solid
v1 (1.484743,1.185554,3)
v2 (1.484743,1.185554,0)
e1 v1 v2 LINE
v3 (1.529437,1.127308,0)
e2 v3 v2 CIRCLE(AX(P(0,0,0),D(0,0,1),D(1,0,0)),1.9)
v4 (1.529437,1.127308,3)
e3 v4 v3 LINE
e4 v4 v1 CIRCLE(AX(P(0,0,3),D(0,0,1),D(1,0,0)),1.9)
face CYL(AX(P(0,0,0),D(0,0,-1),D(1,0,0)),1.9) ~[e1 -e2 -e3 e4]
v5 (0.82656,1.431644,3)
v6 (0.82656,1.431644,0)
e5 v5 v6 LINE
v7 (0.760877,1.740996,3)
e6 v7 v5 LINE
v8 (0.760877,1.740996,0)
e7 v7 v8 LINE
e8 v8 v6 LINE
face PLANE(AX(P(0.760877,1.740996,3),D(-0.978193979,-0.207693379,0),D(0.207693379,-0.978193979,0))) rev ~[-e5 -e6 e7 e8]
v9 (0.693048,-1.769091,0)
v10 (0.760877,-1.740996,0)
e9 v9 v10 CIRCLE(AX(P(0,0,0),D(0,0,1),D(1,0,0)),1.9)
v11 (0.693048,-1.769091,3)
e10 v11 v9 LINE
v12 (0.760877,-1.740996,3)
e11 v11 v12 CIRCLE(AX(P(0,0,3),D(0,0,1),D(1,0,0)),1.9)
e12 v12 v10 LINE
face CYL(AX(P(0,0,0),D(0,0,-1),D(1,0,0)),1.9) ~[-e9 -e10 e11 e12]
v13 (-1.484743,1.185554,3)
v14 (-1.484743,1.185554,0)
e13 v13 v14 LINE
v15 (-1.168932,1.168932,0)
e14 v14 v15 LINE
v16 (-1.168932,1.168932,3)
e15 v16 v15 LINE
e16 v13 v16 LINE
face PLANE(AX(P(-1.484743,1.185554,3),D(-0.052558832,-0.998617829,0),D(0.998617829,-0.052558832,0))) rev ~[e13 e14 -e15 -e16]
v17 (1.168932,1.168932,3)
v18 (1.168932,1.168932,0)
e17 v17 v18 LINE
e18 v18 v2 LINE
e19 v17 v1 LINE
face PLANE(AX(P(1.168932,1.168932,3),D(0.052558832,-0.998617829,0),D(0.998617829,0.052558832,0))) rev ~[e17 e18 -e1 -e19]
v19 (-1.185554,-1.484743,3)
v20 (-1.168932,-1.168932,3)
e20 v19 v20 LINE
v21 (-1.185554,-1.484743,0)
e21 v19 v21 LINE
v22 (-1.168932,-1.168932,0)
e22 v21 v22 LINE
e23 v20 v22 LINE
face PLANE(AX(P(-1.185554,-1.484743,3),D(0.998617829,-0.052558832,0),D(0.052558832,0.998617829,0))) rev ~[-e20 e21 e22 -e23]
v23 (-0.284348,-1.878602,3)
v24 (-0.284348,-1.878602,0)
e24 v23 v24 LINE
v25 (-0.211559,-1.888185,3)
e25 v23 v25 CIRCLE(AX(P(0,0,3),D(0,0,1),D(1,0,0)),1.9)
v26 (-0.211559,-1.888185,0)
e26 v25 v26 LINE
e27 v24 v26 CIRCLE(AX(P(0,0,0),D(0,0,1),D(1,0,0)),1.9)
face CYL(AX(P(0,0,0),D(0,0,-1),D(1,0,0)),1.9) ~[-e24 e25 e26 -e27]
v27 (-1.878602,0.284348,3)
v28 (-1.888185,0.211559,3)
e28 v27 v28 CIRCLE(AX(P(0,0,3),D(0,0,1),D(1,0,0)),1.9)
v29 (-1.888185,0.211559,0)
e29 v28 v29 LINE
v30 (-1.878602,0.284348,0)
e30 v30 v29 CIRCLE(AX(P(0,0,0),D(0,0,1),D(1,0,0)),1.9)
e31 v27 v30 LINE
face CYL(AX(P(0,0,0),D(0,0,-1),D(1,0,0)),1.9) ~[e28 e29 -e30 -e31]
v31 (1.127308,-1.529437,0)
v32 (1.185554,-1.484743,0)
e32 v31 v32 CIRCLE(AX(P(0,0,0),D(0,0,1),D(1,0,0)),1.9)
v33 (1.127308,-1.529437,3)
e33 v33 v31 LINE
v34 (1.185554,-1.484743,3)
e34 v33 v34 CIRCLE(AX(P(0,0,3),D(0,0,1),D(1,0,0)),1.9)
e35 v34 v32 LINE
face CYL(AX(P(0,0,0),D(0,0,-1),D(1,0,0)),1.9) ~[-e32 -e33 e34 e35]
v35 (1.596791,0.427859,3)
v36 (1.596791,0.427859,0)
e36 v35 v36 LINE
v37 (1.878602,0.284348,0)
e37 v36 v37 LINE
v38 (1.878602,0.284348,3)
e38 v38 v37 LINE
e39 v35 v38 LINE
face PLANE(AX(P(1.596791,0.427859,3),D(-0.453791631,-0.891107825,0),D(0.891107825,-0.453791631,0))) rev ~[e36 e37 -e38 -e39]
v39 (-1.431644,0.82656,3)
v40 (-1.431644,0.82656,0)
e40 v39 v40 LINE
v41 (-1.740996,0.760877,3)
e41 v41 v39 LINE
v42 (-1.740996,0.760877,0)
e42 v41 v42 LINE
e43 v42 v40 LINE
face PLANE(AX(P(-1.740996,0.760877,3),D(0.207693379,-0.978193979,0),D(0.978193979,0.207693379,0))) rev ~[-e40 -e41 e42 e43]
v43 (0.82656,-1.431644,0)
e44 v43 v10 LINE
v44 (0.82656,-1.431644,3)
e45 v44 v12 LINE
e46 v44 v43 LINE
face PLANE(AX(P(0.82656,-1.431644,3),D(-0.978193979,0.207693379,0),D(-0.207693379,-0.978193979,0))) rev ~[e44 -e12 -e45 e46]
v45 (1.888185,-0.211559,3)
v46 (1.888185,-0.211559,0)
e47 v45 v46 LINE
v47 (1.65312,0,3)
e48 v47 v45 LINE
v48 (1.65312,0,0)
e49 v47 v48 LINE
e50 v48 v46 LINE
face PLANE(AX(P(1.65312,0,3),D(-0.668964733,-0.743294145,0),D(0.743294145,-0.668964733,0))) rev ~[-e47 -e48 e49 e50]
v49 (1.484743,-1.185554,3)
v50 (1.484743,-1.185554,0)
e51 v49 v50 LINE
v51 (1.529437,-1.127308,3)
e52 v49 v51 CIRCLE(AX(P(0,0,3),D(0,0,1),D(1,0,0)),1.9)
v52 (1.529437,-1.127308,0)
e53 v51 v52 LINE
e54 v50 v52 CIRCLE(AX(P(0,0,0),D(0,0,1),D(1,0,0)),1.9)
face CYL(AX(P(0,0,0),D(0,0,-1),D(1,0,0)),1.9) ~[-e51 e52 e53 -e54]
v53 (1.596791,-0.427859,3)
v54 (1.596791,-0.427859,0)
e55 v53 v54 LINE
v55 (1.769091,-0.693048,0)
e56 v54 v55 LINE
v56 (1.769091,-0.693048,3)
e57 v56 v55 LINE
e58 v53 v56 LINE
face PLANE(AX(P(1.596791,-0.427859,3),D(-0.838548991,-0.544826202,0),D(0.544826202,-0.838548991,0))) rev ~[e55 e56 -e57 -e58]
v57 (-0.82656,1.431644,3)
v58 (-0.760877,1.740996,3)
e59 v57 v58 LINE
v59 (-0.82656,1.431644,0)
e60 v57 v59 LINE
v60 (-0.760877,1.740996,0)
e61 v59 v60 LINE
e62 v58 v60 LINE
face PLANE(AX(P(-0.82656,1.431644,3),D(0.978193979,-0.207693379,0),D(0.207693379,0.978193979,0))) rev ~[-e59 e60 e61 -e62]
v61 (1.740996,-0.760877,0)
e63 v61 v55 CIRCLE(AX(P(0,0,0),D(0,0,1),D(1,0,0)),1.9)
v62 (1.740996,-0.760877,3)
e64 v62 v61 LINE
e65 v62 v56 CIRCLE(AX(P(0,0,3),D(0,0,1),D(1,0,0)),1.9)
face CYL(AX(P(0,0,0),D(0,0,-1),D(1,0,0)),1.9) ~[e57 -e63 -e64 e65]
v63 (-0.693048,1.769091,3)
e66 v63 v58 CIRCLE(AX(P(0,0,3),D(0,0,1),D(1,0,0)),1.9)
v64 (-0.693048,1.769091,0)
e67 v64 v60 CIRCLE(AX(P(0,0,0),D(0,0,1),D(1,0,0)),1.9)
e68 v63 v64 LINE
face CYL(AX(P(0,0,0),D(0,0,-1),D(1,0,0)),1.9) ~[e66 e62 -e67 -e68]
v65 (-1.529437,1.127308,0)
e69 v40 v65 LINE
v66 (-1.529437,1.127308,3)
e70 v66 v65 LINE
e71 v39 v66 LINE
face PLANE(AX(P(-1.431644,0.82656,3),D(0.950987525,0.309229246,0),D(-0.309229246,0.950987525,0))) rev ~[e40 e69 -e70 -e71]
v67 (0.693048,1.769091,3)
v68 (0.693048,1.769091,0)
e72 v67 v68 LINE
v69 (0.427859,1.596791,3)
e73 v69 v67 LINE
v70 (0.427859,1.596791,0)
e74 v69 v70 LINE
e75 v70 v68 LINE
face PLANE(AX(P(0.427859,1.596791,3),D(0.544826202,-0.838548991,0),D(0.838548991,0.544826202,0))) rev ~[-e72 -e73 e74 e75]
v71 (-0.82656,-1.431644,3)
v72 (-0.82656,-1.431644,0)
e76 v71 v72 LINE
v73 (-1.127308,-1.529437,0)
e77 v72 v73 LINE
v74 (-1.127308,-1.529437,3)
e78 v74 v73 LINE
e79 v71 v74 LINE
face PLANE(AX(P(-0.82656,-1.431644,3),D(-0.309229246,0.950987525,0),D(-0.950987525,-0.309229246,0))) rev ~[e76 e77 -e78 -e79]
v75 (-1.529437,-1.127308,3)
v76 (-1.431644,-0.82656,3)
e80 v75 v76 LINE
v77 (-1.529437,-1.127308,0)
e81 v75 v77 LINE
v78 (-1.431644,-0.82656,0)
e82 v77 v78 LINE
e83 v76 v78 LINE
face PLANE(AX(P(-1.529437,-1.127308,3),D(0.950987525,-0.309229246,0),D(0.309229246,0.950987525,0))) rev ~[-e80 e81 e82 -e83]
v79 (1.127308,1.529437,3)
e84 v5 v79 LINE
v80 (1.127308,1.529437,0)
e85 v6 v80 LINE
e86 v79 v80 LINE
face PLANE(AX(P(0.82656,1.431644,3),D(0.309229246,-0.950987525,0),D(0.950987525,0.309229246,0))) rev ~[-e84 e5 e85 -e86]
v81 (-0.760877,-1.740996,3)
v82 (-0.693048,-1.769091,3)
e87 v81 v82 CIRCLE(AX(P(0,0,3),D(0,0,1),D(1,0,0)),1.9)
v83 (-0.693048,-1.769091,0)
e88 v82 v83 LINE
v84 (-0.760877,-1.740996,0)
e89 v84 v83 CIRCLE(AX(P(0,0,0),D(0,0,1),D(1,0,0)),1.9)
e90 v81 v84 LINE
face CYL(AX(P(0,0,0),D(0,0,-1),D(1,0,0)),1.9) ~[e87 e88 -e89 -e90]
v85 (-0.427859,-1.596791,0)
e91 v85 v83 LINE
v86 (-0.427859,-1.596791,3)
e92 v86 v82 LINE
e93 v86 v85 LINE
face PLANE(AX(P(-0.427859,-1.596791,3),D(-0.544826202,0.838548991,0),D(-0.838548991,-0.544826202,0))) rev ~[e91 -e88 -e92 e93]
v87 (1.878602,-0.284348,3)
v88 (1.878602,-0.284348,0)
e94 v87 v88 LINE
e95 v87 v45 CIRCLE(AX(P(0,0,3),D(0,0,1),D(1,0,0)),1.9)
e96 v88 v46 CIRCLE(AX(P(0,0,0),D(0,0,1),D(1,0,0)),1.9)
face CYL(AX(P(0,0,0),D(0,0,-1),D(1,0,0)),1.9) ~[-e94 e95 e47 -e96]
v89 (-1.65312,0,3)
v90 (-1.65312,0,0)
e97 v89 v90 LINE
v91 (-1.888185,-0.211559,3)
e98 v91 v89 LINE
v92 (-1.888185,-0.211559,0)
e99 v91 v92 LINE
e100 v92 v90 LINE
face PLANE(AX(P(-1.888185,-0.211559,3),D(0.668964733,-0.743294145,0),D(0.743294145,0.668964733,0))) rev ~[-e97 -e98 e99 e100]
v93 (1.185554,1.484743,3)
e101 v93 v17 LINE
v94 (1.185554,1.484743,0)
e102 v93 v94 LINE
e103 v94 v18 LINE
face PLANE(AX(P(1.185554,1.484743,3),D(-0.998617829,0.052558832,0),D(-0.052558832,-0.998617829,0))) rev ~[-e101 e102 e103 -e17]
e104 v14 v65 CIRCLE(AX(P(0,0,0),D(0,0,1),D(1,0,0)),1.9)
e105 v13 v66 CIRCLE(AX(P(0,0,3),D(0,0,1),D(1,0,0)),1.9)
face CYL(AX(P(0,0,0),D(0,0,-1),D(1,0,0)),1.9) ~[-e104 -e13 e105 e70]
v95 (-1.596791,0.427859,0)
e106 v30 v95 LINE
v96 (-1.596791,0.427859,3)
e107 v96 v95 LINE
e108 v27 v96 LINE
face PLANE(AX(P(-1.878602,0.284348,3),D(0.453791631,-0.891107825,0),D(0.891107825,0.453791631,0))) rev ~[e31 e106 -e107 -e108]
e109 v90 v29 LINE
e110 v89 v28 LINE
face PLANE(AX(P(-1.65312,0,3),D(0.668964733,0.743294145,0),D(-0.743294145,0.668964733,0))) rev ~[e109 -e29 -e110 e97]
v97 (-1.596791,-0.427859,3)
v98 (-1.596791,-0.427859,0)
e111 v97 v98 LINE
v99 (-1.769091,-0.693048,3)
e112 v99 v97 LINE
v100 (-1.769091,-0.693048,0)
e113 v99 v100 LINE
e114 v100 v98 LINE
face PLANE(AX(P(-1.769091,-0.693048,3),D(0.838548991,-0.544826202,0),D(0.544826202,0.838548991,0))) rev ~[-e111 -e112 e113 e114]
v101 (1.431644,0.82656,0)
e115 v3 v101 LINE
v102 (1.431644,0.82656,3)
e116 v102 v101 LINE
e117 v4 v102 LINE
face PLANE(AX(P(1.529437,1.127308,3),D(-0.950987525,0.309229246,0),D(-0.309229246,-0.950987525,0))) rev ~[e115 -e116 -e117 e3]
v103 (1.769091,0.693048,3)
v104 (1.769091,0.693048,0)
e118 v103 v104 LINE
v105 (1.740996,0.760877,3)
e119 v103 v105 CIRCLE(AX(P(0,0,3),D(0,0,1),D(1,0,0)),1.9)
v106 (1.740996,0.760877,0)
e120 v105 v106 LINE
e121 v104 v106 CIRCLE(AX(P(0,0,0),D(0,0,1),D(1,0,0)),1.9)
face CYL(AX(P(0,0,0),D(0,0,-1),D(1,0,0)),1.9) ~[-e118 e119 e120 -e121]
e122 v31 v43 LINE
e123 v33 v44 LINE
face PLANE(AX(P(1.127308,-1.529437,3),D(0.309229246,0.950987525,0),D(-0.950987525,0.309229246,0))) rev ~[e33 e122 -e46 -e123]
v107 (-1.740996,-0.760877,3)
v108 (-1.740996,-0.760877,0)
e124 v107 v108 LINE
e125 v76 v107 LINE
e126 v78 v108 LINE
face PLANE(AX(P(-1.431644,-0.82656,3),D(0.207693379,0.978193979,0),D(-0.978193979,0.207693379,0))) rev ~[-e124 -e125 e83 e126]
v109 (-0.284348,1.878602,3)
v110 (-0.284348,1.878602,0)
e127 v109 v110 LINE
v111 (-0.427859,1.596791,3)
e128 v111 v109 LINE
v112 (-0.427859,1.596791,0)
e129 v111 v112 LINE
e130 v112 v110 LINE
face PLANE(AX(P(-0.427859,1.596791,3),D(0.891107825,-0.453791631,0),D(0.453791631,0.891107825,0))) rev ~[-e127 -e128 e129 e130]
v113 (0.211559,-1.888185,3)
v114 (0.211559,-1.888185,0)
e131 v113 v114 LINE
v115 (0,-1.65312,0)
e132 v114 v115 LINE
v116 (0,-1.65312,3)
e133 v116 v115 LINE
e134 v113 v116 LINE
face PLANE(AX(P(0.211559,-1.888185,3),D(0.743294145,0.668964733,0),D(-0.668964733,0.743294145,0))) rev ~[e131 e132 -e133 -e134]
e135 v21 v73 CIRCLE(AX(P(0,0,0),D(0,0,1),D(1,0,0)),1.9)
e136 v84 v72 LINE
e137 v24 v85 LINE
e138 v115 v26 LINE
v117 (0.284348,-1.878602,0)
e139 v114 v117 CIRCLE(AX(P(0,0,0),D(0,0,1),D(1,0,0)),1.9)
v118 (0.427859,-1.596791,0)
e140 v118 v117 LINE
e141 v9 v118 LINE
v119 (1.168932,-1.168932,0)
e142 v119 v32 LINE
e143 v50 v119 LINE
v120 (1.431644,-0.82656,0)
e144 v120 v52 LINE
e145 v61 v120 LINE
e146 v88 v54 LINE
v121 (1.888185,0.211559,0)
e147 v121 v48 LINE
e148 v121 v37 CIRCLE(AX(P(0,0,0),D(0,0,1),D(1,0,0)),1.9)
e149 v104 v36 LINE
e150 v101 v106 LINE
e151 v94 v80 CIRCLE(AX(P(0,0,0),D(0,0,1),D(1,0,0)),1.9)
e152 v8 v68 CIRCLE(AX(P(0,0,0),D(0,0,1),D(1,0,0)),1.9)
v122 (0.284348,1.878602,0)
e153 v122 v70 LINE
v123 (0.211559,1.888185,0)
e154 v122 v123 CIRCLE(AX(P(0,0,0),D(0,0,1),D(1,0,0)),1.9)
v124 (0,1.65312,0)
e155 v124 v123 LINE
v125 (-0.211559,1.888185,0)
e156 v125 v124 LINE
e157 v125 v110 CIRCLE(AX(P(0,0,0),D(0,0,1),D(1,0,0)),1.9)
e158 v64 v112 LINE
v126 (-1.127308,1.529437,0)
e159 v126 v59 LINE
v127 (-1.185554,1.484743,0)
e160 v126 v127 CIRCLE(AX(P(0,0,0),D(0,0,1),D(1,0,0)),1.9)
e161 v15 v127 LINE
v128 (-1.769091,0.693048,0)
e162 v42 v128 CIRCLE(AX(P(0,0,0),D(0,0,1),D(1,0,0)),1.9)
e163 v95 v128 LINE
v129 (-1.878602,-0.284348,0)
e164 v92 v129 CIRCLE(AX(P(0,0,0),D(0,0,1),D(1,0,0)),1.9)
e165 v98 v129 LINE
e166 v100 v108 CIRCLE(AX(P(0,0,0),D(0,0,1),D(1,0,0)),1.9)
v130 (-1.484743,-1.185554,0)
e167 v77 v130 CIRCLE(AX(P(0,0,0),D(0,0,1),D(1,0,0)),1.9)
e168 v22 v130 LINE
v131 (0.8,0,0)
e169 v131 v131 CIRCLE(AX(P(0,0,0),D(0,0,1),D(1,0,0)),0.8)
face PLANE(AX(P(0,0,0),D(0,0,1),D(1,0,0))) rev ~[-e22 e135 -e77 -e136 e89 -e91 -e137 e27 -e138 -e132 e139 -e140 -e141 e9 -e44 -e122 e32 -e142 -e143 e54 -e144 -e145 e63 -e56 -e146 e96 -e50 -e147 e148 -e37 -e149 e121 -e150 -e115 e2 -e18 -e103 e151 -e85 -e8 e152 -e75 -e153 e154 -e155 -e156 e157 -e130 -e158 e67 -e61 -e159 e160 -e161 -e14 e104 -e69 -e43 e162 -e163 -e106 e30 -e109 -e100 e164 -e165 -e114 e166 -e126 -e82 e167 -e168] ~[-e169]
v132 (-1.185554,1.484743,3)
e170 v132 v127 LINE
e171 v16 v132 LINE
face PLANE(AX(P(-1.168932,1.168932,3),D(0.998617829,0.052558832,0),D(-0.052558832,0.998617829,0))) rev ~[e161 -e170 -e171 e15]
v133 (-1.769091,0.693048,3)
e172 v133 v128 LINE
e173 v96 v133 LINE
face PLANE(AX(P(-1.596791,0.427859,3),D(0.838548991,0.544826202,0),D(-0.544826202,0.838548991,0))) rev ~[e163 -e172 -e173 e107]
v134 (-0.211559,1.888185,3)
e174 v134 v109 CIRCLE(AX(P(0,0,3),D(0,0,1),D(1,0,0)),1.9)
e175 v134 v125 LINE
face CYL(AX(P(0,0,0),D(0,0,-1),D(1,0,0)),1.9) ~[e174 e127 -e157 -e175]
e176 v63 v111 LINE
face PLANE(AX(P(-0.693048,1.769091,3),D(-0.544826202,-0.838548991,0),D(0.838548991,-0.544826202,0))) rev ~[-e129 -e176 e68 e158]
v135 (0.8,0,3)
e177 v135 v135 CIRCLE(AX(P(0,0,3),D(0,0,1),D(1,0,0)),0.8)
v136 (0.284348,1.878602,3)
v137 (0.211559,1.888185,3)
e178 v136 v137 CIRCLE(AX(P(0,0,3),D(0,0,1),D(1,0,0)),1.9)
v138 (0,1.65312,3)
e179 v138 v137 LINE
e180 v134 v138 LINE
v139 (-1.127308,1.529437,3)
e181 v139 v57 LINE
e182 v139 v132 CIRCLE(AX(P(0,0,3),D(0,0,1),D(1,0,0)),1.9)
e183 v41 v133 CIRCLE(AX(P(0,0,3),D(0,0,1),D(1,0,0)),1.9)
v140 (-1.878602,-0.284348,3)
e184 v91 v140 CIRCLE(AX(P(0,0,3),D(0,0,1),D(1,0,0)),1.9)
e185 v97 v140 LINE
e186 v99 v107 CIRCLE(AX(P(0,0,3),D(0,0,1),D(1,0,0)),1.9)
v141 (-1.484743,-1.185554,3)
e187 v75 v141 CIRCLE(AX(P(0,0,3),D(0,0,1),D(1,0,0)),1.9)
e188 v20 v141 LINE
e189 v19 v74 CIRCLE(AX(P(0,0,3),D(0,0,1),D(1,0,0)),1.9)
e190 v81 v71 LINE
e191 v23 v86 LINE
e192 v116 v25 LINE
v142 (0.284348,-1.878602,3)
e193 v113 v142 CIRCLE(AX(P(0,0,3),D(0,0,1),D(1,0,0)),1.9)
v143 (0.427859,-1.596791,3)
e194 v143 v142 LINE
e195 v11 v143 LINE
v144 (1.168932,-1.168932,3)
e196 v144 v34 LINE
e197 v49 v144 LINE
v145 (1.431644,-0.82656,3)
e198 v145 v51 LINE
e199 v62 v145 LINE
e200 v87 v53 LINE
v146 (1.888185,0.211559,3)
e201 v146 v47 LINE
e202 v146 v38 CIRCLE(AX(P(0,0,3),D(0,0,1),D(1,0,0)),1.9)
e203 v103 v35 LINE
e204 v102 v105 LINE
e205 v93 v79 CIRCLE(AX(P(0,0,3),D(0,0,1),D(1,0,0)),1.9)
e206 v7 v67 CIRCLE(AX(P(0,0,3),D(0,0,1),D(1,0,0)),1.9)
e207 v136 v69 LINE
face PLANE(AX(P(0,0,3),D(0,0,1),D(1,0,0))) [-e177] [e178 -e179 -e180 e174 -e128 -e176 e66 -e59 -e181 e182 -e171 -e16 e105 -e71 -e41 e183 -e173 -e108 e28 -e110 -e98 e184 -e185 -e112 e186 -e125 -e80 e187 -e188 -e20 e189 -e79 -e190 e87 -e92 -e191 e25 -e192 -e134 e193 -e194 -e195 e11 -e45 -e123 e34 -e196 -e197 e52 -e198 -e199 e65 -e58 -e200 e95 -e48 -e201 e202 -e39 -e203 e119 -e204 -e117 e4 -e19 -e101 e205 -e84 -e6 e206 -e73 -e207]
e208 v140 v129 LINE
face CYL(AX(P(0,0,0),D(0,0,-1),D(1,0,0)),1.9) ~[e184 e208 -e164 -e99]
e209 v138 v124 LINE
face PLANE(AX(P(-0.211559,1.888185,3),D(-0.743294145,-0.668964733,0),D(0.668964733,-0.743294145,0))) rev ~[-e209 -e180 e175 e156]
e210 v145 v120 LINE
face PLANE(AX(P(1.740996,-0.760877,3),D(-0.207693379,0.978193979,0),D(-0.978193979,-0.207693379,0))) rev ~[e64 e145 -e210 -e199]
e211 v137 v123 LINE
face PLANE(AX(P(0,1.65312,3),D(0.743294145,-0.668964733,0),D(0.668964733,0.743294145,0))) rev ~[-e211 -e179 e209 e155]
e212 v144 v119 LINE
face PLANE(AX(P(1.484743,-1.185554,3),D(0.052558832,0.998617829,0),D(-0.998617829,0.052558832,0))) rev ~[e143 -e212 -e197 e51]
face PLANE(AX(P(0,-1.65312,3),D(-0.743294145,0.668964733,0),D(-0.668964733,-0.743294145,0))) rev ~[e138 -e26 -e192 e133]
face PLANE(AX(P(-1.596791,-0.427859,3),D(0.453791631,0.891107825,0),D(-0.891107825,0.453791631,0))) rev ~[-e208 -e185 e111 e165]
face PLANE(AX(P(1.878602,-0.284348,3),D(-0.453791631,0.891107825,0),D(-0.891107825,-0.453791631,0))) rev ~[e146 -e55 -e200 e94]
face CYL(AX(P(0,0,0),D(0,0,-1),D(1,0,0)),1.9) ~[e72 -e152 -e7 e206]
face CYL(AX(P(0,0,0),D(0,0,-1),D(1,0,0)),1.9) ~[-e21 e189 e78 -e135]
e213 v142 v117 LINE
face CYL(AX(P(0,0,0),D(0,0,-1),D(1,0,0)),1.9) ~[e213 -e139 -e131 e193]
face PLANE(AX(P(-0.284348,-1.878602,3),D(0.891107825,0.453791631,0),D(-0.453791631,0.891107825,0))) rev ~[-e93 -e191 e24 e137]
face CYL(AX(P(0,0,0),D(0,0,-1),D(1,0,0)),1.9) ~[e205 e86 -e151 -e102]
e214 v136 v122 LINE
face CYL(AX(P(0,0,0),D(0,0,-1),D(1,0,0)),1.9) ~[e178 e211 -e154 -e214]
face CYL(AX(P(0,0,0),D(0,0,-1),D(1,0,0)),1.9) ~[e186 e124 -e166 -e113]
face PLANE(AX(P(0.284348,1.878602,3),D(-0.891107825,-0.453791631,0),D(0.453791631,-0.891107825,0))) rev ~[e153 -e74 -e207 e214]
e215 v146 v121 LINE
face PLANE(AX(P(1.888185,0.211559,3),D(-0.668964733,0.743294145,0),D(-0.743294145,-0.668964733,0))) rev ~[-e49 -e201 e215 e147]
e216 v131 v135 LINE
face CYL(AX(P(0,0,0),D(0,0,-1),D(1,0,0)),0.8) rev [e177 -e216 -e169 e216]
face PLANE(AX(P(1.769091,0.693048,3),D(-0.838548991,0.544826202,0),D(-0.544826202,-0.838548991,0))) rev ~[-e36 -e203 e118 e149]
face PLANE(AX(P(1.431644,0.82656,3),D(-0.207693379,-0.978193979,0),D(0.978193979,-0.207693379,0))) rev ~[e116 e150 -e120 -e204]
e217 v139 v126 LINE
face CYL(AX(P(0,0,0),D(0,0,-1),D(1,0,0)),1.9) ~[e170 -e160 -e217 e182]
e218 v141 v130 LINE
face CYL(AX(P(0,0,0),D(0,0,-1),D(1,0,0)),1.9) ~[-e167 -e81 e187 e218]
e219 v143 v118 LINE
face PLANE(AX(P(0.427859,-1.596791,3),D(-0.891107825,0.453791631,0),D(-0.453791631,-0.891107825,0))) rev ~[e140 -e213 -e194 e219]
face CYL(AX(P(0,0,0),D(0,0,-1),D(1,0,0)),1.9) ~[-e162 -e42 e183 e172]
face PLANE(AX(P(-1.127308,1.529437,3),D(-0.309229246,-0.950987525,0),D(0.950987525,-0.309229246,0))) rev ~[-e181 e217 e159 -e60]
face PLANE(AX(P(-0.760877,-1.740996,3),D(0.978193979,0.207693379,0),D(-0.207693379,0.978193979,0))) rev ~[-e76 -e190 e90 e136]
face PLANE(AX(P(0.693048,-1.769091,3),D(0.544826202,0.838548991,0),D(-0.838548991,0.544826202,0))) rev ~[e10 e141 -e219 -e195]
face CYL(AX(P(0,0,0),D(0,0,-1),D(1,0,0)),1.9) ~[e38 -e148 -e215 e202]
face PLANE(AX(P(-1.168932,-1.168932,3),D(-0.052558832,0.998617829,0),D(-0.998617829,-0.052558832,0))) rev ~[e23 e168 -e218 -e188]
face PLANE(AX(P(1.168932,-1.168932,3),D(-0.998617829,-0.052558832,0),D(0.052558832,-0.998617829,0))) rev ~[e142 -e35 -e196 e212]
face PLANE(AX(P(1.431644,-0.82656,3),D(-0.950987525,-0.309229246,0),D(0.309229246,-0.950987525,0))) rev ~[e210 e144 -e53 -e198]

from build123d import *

# Parameters (mm, degrees)
ESBO_O1_R                = 1.9
ESBO_O1_R_2              = 0.8
RESSALTO_EXTRUS_O1_DEPTH = 3
CORTE_EXTRUS_O2_DEPTH    = 5.027406113


with BuildPart() as part:
    # Esboço1 → Ressalto-extrusão1 (new body)
    with BuildSketch(Plane.XY):
        Circle(ESBO_O1_R)
        Circle(ESBO_O1_R_2, mode=Mode.SUBTRACT)
    extrude(amount=RESSALTO_EXTRUS_O1_DEPTH)

    # Esboço2 → Corte-extrusão2 (cut, through all)
    with BuildSketch(Plane.XY.offset(3)):
        with BuildLine():
            Line((-0.211558753, 1.888185079), (0, 1.653119799))
            Line((0, 1.653119799), (0.211558753, 1.888185079))
            ThreePointArc((0.211558753, 1.888185079), (0, 1.9), (-0.211558753, 1.888185079))
        make_face()
        with BuildLine():
            ThreePointArc((0.693048322, 1.769091299), (0.491756186, 1.83525907), (0.284348196, 1.878602167))
            Line((0.284348196, 1.878602167), (0.427858888, 1.596791107))
            Line((0.427858888, 1.596791107), (0.693048322, 1.769091299))
        make_face()
        with BuildLine():
            Line((-0.427858888, 1.596791107), (-0.284348196, 1.878602167))
            ThreePointArc((-0.284348196, 1.878602167), (-0.491756186, 1.83525907), (-0.693048322, 1.769091299))
            Line((-0.693048322, 1.769091299), (-0.427858888, 1.596791107))
        make_face()
        with BuildLine():
            ThreePointArc((1.127307794, 1.529436869), (0.95, 1.645448267), (0.760877285, 1.740995622))
            Line((0.760877285, 1.740995622), (0.826559899, 1.431643741))
            Line((0.826559899, 1.431643741), (1.127307794, 1.529436869))
        make_face()
        with BuildLine():
            Line((-0.826559899, 1.431643741), (-0.760877285, 1.740995622))
            ThreePointArc((-0.760877285, 1.740995622), (-0.95, 1.645448267), (-1.127307794, 1.529436869))
            Line((-1.127307794, 1.529436869), (-0.826559899, 1.431643741))
        make_face()
        with BuildLine():
            ThreePointArc((1.484743102, 1.185553845), (1.343502884, 1.343502884), (1.185553845, 1.484743102))
            Line((1.185553845, 1.484743102), (1.16893222, 1.16893222))
            Line((1.16893222, 1.16893222), (1.484743102, 1.185553845))
        make_face()
        with BuildLine():
            Line((-1.16893222, 1.16893222), (-1.185553845, 1.484743102))
            ThreePointArc((-1.185553845, 1.484743102), (-1.343502884, 1.343502884), (-1.484743102, 1.185553845))
            Line((-1.484743102, 1.185553845), (-1.16893222, 1.16893222))
        make_face()
        with BuildLine():
            ThreePointArc((1.740995622, 0.760877285), (1.645448267, 0.95), (1.529436869, 1.127307794))
            Line((1.529436869, 1.127307794), (1.431643741, 0.826559899))
            Line((1.431643741, 0.826559899), (1.740995622, 0.760877285))
        make_face()
        with BuildLine():
            Line((-1.431643741, 0.826559899), (-1.529436869, 1.127307794))
            ThreePointArc((-1.529436869, 1.127307794), (-1.645448267, 0.95), (-1.740995622, 0.760877285))
            Line((-1.740995622, 0.760877285), (-1.431643741, 0.826559899))
        make_face()
        with BuildLine():
            ThreePointArc((1.878602167, 0.284348196), (1.83525907, 0.491756186), (1.769091299, 0.693048322))
            Line((1.769091299, 0.693048322), (1.596791107, 0.427858888))
            Line((1.596791107, 0.427858888), (1.878602167, 0.284348196))
        make_face()
        with BuildLine():
            Line((-1.596791107, 0.427858888), (-1.769091299, 0.693048322))
            ThreePointArc((-1.769091299, 0.693048322), (-1.83525907, 0.491756186), (-1.878602167, 0.284348196))
            Line((-1.878602167, 0.284348196), (-1.596791107, 0.427858888))
        make_face()
        with BuildLine():
            ThreePointArc((1.888185079, -0.211558753), (1.9, 0), (1.888185079, 0.211558753))
            Line((1.888185079, 0.211558753), (1.653119799, 0))
            Line((1.653119799, 0), (1.888185079, -0.211558753))
        make_face()
        with BuildLine():
            Line((-1.653119799, 0), (-1.888185079, 0.211558753))
            ThreePointArc((-1.888185079, 0.211558753), (-1.9, 0), (-1.888185079, -0.211558753))
            Line((-1.888185079, -0.211558753), (-1.653119799, 0))
        make_face()
        with BuildLine():
            Line((-1.596791107, -0.427858888), (-1.878602167, -0.284348196))
            ThreePointArc((-1.878602167, -0.284348196), (-1.83525907, -0.491756186), (-1.769091299, -0.693048322))
            Line((-1.769091299, -0.693048322), (-1.596791107, -0.427858888))
        make_face()
        with BuildLine():
            ThreePointArc((1.769091299, -0.693048322), (1.83525907, -0.491756186), (1.878602167, -0.284348196))
            Line((1.878602167, -0.284348196), (1.596791107, -0.427858888))
            Line((1.596791107, -0.427858888), (1.769091299, -0.693048322))
        make_face()
        with BuildLine():
            Line((-1.431643741, -0.826559899), (-1.740995622, -0.760877285))
            ThreePointArc((-1.740995622, -0.760877285), (-1.645448267, -0.95), (-1.529436869, -1.127307794))
            Line((-1.529436869, -1.127307794), (-1.431643741, -0.826559899))
        make_face()
        with BuildLine():
            ThreePointArc((1.529436869, -1.127307794), (1.645448267, -0.95), (1.740995622, -0.760877285))
            Line((1.740995622, -0.760877285), (1.431643741, -0.826559899))
            Line((1.431643741, -0.826559899), (1.529436869, -1.127307794))
        make_face()
        with BuildLine():
            Line((-1.16893222, -1.16893222), (-1.484743102, -1.185553845))
            ThreePointArc((-1.484743102, -1.185553845), (-1.343502884, -1.343502884), (-1.185553845, -1.484743102))
            Line((-1.185553845, -1.484743102), (-1.16893222, -1.16893222))
        make_face()
        with BuildLine():
            ThreePointArc((1.185553845, -1.484743102), (1.343502884, -1.343502884), (1.484743102, -1.185553845))
            Line((1.484743102, -1.185553845), (1.16893222, -1.16893222))
            Line((1.16893222, -1.16893222), (1.185553845, -1.484743102))
        make_face()
        with BuildLine():
            Line((-0.826559899, -1.431643741), (-1.127307794, -1.529436869))
            ThreePointArc((-1.127307794, -1.529436869), (-0.95, -1.645448267), (-0.760877285, -1.740995622))
            Line((-0.760877285, -1.740995622), (-0.826559899, -1.431643741))
        make_face()
        with BuildLine():
            ThreePointArc((0.760877285, -1.740995622), (0.95, -1.645448267), (1.127307794, -1.529436869))
            Line((1.127307794, -1.529436869), (0.826559899, -1.431643741))
            Line((0.826559899, -1.431643741), (0.760877285, -1.740995622))
        make_face()
        with BuildLine():
            Line((-0.427858888, -1.596791107), (-0.693048322, -1.769091299))
            ThreePointArc((-0.693048322, -1.769091299), (-0.491756186, -1.83525907), (-0.284348196, -1.878602167))
            Line((-0.284348196, -1.878602167), (-0.427858888, -1.596791107))
        make_face()
        with BuildLine():
            ThreePointArc((0.284348196, -1.878602167), (0.491756186, -1.83525907), (0.693048322, -1.769091299))
            Line((0.693048322, -1.769091299), (0.427858888, -1.596791107))
            Line((0.427858888, -1.596791107), (0.284348196, -1.878602167))
        make_face()
        with BuildLine():
            Line((0, -1.653119799), (-0.211558753, -1.888185079))
            ThreePointArc((-0.211558753, -1.888185079), (0, -1.9), (0.211558753, -1.888185079))
            Line((0.211558753, -1.888185079), (0, -1.653119799))
        make_face()
    extrude(amount=-CORTE_EXTRUS_O2_DEPTH, mode=Mode.SUBTRACT)


solid = part.part
